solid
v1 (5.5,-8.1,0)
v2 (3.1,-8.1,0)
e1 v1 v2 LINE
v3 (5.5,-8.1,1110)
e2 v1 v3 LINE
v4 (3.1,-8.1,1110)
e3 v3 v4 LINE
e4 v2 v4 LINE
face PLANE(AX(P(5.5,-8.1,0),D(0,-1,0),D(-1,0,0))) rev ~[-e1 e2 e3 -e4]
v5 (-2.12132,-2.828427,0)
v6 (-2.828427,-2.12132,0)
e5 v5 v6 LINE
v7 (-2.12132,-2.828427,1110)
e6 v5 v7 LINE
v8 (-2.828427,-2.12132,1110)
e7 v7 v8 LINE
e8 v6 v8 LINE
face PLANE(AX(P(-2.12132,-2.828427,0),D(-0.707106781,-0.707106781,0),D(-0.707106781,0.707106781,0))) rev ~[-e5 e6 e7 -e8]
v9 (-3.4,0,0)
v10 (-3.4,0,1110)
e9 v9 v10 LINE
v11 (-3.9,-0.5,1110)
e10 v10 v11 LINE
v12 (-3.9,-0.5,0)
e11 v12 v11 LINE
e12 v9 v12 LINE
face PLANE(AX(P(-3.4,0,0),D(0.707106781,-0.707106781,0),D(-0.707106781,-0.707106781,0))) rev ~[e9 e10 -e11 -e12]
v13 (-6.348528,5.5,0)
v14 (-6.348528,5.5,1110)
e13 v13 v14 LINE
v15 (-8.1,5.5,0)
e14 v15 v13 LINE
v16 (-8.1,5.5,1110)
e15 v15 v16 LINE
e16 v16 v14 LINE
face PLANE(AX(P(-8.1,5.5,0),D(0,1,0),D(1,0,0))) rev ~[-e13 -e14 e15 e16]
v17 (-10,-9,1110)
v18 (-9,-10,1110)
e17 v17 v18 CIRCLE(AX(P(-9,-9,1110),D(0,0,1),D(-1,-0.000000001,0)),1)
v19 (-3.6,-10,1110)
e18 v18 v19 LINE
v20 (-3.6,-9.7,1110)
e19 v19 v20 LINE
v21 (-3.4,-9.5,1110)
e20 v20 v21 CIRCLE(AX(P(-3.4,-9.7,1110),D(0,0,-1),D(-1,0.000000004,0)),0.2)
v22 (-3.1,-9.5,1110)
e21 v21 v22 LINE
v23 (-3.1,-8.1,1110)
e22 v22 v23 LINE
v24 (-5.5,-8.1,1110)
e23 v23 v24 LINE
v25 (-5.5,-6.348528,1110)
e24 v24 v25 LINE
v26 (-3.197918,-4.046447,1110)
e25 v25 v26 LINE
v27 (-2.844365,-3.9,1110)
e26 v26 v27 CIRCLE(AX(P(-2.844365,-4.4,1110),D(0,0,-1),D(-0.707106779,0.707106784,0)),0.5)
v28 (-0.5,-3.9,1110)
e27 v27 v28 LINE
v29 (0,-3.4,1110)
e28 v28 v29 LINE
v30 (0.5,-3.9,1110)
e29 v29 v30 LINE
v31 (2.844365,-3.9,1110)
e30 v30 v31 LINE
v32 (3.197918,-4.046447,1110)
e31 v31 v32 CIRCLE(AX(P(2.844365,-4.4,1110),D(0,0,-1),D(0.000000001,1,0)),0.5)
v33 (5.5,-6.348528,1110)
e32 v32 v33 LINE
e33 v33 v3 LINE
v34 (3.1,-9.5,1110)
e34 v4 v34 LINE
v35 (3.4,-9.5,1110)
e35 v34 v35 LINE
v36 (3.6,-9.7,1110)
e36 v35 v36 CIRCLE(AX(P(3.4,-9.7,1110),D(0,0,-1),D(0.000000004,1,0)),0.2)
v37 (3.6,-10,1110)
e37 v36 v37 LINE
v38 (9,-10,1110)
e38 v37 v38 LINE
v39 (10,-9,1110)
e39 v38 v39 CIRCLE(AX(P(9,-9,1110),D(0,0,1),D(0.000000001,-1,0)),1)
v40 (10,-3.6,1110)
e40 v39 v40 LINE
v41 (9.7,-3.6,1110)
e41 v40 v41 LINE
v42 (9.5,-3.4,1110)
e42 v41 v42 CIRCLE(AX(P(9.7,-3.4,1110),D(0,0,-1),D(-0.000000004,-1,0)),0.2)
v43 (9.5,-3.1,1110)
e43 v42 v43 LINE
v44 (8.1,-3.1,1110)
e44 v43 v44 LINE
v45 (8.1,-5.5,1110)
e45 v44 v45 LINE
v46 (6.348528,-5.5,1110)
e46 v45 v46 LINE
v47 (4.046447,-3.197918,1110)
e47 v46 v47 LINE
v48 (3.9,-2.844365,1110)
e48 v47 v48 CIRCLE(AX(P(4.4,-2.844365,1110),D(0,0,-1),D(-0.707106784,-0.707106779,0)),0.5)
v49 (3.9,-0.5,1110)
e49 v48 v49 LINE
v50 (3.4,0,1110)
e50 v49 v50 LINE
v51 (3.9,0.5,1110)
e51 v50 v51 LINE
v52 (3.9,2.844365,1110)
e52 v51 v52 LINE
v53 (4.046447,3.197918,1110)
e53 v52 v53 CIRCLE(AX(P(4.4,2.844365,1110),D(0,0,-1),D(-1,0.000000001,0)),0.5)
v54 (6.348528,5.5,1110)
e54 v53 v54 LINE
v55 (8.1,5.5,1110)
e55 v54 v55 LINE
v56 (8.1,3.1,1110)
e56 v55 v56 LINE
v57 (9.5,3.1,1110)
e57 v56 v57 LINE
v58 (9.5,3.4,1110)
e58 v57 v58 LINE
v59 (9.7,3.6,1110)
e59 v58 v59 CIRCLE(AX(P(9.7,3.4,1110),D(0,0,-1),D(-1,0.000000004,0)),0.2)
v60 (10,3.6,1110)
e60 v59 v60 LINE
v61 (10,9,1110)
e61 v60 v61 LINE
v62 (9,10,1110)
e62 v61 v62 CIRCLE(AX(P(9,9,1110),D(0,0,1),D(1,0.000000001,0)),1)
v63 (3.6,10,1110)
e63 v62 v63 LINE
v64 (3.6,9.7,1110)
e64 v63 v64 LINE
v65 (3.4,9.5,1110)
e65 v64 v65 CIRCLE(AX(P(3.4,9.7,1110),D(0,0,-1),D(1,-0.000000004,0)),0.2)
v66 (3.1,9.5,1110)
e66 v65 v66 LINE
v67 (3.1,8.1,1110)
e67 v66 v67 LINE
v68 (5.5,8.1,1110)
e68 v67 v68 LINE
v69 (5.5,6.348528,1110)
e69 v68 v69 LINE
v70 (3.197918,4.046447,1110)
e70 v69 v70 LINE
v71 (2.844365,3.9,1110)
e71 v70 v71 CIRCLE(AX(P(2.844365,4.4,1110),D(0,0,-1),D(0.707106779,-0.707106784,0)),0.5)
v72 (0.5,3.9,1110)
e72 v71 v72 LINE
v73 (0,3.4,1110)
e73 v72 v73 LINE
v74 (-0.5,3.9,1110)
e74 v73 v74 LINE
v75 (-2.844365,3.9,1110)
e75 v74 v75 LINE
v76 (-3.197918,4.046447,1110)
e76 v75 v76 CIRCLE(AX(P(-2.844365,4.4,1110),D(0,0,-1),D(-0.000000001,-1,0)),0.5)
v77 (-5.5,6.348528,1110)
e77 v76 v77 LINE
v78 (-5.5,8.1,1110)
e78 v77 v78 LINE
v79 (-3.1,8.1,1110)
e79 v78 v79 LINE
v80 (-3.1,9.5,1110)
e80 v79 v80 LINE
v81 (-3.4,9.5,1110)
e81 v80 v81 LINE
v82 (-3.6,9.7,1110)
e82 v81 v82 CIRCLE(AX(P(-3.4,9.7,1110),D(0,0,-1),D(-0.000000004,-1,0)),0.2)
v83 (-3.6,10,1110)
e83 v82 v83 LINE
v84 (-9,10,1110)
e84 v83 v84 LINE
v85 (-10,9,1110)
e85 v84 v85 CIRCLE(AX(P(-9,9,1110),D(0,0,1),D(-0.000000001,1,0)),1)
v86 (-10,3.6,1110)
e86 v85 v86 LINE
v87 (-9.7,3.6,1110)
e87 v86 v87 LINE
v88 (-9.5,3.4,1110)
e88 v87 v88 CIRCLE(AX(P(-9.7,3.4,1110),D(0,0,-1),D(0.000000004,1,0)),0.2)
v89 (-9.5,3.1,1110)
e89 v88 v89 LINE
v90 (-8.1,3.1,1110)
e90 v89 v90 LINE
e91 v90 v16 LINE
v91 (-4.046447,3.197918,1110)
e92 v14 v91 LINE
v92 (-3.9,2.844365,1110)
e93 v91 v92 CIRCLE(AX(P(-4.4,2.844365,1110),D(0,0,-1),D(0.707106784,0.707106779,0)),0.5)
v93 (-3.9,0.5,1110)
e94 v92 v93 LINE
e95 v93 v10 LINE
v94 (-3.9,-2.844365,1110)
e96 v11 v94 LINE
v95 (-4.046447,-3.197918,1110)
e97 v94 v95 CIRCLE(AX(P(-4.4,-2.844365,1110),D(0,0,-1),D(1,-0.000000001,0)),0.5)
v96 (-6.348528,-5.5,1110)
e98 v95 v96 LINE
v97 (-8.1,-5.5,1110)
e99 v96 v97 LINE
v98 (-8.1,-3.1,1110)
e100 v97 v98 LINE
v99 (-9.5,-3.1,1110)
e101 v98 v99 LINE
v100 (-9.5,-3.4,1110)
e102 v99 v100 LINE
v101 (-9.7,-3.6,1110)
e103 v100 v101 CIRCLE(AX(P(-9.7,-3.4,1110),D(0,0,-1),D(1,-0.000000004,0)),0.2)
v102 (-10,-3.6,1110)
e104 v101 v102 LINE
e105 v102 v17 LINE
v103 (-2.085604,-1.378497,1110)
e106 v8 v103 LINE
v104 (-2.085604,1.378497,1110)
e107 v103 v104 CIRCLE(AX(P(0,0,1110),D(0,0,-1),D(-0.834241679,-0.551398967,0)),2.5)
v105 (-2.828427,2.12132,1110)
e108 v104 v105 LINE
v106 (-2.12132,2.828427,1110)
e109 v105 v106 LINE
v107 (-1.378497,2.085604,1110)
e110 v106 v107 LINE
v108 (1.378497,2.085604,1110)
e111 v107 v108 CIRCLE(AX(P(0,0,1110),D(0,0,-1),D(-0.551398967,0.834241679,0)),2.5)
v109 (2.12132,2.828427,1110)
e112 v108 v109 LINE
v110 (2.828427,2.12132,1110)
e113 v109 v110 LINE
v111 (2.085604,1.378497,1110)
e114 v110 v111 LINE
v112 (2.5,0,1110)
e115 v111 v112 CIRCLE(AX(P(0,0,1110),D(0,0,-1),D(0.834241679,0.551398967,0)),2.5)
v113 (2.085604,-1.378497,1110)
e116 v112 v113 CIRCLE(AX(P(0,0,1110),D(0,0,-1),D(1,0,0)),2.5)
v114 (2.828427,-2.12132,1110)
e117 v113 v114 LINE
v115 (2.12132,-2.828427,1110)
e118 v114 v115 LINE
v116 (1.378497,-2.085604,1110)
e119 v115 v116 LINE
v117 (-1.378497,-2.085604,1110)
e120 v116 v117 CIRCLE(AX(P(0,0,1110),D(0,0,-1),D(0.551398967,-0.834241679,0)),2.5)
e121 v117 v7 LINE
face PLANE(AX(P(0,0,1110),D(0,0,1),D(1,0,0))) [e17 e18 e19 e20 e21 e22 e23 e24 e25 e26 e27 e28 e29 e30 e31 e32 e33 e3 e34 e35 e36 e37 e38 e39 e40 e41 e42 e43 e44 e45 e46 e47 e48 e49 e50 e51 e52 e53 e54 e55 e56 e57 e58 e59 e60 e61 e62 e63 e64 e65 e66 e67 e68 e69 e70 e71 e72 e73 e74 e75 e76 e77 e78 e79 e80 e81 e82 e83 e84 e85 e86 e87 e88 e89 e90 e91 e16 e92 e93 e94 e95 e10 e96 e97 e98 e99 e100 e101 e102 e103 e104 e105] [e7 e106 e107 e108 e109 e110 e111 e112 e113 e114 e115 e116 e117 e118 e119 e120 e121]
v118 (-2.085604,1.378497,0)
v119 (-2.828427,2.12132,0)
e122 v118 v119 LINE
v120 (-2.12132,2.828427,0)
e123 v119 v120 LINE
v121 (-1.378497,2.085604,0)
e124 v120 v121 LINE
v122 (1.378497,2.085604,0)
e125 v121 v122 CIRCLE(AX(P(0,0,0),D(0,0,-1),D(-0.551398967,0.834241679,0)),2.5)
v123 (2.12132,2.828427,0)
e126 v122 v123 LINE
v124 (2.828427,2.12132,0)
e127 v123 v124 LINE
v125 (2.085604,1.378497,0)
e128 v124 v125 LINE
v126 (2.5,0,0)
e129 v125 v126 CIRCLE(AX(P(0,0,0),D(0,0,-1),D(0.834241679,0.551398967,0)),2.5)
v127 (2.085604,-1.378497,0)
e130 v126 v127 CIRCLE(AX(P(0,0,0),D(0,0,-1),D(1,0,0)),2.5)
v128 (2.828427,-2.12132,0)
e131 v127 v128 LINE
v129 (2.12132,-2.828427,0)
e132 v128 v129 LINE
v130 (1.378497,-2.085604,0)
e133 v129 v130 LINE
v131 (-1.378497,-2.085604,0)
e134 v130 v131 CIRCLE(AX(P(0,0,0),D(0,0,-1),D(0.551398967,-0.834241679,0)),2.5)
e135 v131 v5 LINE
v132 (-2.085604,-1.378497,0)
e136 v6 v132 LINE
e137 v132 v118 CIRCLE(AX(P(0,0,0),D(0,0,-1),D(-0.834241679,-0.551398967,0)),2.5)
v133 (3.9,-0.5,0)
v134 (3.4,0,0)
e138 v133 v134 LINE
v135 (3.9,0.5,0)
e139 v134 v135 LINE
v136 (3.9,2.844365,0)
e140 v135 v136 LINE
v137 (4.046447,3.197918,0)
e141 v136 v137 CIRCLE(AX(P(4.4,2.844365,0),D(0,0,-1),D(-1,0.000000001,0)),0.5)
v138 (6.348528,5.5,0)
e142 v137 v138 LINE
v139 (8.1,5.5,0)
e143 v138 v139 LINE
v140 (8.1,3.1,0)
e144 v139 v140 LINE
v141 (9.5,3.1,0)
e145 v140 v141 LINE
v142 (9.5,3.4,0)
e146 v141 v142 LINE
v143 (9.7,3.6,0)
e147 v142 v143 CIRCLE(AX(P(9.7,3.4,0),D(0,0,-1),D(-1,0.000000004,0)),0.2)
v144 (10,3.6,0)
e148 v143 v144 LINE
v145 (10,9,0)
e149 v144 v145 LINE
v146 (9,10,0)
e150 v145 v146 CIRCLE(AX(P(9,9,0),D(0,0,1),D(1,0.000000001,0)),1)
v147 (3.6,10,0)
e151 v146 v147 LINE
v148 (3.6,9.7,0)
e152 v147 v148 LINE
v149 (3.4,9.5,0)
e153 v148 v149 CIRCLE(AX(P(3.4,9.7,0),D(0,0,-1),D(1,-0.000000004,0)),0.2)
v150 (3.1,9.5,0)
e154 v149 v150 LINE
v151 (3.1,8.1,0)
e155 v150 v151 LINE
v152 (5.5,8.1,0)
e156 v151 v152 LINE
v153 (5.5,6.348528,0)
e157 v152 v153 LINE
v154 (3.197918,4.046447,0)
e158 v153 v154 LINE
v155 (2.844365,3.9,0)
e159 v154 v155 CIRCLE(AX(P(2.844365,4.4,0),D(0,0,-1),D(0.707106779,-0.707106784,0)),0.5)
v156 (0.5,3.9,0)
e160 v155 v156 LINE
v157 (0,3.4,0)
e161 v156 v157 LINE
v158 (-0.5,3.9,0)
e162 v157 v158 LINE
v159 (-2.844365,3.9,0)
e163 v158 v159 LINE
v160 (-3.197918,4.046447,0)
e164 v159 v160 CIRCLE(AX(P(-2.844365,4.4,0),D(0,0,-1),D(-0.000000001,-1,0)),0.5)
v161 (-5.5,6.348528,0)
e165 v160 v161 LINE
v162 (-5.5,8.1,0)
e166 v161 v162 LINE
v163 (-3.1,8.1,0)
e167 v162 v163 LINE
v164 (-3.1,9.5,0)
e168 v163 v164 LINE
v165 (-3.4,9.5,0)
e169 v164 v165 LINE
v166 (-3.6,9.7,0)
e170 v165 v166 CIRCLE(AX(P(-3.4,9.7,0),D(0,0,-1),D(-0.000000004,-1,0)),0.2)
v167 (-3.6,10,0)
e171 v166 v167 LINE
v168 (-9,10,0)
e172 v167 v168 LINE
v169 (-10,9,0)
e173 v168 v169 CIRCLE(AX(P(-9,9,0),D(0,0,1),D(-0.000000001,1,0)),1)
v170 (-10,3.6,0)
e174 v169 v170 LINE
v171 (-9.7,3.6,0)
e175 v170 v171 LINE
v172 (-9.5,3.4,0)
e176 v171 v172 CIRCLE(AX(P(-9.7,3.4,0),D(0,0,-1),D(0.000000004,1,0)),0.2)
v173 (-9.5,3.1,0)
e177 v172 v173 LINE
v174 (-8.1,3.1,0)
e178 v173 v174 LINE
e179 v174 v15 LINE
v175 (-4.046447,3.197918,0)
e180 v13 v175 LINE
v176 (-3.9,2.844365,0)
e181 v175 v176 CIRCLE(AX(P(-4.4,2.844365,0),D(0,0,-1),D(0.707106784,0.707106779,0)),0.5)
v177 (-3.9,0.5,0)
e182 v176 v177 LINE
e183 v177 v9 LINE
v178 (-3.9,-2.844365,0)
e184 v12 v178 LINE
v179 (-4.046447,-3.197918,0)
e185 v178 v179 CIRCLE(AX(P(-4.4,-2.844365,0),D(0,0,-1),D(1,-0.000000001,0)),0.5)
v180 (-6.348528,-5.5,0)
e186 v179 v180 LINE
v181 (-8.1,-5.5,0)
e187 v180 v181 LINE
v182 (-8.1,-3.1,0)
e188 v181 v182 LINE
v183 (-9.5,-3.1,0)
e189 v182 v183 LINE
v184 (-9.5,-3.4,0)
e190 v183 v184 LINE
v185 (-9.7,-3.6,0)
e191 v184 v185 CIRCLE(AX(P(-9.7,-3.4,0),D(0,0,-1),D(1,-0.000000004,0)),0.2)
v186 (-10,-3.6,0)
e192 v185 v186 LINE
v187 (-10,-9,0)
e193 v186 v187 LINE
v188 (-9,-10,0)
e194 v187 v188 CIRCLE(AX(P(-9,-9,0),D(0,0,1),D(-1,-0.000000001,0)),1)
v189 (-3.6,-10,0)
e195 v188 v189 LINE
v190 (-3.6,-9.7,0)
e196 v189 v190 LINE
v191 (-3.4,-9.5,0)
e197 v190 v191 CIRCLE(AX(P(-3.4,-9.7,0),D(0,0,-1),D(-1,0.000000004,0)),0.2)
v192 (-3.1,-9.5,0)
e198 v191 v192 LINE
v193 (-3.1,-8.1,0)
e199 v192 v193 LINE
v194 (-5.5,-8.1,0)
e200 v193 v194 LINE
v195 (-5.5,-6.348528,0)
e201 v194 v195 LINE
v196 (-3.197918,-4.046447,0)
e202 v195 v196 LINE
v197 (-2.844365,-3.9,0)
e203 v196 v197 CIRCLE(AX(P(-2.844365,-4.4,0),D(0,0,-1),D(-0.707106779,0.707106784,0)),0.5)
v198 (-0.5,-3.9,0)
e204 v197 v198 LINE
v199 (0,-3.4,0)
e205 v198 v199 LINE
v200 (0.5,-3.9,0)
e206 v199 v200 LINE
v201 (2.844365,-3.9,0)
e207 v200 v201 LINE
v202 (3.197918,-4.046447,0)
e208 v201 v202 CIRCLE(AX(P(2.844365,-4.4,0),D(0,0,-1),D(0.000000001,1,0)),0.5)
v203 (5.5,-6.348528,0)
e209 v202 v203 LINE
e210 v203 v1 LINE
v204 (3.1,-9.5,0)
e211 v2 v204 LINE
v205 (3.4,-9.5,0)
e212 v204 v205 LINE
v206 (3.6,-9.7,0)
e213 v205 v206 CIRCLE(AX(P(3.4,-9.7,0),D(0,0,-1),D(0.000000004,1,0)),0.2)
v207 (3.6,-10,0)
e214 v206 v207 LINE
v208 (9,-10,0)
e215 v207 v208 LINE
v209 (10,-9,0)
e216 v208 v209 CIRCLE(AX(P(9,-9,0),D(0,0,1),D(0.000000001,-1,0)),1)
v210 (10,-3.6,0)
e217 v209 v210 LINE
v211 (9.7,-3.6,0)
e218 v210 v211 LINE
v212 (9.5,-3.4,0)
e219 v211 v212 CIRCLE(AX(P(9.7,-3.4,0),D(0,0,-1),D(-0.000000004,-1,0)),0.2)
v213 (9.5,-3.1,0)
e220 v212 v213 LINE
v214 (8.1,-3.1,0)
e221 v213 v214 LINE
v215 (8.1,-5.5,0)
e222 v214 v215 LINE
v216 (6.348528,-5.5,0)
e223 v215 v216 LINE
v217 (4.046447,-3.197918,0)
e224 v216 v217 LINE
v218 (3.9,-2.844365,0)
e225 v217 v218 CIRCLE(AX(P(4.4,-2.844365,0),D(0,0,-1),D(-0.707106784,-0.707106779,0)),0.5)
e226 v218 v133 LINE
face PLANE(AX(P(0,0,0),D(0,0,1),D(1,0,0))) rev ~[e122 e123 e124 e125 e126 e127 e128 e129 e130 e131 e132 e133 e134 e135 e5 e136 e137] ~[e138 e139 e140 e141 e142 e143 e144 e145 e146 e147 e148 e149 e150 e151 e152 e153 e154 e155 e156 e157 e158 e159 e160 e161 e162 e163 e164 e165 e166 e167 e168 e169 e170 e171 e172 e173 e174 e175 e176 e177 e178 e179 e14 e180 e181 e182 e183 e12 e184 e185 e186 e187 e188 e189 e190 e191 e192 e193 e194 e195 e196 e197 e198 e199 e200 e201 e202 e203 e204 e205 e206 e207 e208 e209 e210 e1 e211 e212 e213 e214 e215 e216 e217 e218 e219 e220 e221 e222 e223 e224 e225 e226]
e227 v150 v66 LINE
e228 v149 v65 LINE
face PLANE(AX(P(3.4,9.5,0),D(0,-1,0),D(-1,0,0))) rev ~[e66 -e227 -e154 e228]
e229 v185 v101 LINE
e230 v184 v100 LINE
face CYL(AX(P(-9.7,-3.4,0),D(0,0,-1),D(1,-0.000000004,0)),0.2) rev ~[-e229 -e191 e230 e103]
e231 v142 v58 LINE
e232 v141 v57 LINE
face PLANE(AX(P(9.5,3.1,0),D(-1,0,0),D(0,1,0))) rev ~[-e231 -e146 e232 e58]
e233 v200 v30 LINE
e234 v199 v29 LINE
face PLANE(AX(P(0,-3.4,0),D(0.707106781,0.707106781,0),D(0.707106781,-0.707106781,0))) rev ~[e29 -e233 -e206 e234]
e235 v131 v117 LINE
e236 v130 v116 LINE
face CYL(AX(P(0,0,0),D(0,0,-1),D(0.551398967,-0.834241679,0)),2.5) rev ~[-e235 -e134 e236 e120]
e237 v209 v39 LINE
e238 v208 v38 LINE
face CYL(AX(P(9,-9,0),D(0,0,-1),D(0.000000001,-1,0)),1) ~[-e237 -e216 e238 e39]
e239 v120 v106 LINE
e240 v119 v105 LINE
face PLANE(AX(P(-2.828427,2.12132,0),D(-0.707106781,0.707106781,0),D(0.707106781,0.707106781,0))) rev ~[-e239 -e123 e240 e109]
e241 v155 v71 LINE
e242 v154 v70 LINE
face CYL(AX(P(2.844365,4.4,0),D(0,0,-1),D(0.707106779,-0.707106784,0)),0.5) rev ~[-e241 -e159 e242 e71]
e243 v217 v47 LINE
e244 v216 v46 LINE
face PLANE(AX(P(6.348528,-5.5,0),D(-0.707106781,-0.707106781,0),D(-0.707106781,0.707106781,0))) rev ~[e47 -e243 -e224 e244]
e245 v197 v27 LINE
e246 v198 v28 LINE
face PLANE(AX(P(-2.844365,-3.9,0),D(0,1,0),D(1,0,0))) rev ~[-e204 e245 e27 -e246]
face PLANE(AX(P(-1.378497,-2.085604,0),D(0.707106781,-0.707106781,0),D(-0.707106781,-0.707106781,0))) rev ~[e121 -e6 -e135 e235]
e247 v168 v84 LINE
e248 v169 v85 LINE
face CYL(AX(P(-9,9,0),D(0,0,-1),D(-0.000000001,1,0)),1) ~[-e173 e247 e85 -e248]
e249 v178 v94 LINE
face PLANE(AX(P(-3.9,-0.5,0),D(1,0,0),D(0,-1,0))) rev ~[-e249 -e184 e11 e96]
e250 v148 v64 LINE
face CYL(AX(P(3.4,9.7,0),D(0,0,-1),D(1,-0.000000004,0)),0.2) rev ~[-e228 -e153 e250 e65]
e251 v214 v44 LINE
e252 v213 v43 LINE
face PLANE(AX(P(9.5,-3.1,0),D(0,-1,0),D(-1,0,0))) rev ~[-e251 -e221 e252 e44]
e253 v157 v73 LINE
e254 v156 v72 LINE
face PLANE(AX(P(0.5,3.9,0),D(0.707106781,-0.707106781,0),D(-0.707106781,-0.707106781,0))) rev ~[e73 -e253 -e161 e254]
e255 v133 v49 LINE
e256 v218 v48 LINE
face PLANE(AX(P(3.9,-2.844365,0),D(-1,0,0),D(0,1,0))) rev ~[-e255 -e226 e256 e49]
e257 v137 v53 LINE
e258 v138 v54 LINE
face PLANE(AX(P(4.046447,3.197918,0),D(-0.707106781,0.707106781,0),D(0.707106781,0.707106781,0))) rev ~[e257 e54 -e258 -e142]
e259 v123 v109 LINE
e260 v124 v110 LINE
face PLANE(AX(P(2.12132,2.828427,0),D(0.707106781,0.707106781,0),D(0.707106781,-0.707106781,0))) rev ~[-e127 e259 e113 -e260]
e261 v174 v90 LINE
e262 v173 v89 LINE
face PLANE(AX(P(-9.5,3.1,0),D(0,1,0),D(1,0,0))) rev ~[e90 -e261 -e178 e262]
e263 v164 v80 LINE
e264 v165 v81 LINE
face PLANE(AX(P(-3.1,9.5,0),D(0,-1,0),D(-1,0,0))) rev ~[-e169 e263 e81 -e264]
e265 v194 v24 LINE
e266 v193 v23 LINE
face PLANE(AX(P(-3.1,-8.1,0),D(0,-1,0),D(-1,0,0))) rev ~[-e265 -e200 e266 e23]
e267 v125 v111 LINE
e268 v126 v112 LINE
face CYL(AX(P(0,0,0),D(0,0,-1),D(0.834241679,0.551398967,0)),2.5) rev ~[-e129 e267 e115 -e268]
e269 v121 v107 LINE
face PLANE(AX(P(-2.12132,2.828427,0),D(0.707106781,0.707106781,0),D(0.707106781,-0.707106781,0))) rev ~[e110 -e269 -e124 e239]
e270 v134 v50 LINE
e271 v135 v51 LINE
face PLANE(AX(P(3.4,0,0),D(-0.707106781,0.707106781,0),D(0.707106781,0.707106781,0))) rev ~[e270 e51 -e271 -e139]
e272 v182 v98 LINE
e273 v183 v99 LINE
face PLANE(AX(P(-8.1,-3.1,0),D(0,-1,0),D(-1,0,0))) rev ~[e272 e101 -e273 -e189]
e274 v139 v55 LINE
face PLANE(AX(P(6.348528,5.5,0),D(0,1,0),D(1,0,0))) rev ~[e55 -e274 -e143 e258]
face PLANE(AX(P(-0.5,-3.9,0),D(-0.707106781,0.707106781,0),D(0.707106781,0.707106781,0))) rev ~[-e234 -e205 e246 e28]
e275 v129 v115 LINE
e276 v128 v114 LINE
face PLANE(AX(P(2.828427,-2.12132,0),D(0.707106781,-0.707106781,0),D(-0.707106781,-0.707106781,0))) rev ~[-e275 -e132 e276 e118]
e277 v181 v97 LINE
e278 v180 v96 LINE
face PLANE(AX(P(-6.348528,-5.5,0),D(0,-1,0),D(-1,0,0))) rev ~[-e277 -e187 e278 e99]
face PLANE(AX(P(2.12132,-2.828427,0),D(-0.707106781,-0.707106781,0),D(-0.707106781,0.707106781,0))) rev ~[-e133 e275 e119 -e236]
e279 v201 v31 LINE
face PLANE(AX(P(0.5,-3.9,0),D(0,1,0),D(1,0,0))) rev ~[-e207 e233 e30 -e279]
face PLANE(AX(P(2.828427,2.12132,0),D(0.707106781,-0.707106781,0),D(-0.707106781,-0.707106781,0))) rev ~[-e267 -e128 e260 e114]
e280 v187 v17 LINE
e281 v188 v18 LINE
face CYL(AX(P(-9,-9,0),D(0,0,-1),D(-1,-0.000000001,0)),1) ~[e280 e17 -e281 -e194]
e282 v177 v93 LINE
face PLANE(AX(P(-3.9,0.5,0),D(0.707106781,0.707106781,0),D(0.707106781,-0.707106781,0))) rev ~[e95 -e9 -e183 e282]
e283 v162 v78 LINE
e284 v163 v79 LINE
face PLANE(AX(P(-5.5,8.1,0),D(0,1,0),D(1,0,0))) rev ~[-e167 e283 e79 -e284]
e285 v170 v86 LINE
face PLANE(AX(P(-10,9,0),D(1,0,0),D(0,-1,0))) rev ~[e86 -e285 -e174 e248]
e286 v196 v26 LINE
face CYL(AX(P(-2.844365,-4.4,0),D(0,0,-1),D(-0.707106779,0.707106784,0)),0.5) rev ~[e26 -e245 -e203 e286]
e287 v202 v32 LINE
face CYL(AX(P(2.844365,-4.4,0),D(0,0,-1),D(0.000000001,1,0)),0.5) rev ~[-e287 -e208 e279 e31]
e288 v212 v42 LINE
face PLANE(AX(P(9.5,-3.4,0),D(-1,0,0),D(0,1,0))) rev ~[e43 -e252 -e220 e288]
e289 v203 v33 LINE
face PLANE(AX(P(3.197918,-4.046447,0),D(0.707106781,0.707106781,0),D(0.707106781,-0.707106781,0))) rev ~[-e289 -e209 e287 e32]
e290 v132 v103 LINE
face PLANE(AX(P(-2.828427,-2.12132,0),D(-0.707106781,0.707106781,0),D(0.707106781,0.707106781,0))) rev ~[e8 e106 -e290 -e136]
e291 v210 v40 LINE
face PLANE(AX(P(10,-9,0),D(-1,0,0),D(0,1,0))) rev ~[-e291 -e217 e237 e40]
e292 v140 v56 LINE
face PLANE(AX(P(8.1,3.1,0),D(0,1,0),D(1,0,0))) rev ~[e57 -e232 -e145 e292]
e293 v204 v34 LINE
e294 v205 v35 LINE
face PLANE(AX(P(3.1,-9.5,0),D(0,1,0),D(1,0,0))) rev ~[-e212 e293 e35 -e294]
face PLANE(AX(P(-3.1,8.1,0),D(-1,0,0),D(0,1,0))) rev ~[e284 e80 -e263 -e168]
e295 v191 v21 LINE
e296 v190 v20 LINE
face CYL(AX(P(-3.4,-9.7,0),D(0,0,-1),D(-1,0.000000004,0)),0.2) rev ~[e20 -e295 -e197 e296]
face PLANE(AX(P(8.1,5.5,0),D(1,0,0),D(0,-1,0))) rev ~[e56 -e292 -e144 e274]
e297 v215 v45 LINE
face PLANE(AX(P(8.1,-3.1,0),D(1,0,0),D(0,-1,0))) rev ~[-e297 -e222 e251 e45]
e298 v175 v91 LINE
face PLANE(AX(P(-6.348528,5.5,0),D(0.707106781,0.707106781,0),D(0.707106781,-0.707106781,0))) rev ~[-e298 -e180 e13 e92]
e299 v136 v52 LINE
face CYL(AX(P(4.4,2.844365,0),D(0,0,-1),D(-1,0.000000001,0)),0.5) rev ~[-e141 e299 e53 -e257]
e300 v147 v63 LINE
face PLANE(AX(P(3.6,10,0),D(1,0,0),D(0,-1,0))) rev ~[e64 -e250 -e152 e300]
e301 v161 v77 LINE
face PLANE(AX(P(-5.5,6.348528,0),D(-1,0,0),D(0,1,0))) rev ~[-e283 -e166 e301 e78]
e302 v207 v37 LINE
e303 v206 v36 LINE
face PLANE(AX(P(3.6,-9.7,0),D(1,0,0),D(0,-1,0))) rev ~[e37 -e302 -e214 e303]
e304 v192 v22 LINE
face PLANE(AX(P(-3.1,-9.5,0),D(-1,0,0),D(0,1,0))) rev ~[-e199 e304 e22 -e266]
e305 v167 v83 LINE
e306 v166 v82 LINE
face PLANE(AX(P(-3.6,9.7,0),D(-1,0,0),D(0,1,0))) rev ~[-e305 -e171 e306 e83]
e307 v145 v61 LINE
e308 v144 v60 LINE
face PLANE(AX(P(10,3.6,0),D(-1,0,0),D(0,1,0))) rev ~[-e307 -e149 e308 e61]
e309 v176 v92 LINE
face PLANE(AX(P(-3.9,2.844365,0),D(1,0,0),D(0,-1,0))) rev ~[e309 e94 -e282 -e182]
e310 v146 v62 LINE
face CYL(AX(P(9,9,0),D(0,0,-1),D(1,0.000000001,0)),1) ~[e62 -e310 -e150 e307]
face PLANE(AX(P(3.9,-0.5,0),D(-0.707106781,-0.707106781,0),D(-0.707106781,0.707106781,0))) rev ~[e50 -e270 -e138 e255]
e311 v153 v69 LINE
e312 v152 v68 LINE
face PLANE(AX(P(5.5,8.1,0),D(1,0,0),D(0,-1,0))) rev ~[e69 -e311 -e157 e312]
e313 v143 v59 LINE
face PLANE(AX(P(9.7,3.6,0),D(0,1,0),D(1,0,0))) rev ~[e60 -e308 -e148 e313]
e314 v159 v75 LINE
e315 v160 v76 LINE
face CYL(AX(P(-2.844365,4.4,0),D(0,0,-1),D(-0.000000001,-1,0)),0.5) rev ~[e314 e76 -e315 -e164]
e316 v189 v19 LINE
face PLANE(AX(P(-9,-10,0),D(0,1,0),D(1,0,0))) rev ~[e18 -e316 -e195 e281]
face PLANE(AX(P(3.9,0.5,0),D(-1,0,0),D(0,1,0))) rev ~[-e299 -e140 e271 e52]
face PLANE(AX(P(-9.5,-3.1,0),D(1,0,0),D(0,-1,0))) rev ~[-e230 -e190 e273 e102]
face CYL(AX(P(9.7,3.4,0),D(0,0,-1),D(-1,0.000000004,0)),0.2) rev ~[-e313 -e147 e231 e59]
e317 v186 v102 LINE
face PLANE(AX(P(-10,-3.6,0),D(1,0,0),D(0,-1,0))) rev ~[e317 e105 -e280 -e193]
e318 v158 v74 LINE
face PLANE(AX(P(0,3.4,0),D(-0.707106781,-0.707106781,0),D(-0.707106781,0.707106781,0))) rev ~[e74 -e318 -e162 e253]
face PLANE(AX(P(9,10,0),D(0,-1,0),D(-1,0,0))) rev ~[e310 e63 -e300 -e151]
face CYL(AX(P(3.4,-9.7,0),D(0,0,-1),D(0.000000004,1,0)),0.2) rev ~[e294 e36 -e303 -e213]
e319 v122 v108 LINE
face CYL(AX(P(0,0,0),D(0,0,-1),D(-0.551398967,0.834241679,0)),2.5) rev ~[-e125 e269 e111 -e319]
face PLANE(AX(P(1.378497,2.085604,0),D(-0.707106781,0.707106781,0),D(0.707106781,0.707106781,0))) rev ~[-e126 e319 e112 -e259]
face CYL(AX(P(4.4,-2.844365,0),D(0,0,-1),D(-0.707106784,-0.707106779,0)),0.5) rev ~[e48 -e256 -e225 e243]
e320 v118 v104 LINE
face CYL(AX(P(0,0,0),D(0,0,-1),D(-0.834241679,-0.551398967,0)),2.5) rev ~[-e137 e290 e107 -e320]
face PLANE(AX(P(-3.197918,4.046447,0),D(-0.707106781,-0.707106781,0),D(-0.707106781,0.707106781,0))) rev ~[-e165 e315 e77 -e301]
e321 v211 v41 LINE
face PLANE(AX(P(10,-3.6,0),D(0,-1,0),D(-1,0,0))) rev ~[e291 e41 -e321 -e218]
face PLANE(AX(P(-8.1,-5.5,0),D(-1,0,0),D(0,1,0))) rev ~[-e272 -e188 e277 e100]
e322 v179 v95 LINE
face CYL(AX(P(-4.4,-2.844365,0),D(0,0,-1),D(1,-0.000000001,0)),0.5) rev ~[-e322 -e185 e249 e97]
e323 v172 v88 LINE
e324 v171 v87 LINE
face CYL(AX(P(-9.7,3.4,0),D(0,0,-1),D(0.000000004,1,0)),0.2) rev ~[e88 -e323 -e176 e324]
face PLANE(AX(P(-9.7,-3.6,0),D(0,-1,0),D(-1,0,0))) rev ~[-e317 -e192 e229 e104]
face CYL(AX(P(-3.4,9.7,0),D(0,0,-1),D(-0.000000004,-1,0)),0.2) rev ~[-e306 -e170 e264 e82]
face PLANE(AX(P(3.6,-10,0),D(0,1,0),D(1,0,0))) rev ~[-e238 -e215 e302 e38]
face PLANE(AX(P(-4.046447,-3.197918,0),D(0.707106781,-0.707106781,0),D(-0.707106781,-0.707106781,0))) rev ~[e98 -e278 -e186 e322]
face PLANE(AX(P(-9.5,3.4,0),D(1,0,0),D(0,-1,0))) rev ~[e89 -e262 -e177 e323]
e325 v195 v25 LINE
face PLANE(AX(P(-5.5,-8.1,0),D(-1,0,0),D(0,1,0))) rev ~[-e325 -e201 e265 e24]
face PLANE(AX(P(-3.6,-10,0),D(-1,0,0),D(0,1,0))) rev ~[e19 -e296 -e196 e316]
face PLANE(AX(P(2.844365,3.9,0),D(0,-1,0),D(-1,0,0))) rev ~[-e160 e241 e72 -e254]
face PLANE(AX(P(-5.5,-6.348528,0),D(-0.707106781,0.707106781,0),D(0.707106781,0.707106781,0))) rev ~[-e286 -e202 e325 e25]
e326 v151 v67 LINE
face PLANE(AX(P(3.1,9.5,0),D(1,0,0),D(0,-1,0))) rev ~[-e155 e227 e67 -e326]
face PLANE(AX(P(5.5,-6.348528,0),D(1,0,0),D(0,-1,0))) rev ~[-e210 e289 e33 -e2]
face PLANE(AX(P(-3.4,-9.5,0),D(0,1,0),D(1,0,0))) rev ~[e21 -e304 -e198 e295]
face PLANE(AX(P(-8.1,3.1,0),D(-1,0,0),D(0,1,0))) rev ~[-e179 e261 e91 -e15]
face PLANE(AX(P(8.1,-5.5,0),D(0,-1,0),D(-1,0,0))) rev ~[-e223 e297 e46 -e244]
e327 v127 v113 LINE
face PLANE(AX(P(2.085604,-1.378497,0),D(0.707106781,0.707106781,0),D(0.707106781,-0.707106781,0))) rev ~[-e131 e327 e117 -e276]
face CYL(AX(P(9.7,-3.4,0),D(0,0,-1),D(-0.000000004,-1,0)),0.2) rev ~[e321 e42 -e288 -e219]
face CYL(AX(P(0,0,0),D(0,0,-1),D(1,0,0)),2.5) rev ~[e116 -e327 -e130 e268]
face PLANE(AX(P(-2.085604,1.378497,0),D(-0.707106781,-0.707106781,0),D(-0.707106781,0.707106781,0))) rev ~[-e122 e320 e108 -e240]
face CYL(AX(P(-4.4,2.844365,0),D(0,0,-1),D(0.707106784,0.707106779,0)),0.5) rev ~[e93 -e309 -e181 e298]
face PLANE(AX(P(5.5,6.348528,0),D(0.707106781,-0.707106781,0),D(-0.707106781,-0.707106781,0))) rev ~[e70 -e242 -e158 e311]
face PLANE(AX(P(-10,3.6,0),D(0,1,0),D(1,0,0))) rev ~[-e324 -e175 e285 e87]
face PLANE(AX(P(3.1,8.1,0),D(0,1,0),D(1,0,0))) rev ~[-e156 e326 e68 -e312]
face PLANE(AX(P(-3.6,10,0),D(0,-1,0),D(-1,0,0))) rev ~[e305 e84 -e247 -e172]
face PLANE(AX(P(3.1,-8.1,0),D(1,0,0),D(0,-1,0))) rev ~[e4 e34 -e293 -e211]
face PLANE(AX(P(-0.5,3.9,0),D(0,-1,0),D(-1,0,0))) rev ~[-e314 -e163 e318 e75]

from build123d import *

# Parameters (mm, degrees)
EXTRUDE1_DEPTH = 1110


with BuildPart() as part:
    # Sketch1 → Extrude1 (new body)
    with BuildSketch(Plane.XY):
        with BuildLine():
            Line((0, 3.4), (-0.5, 3.9))
            Line((-0.5, 3.9), (-2.844365081, 3.9))
            ThreePointArc((-2.844365081, 3.9), (-3.035706798, 3.938060234), (-3.197918472, 4.046446609))
            Line((-3.197918472, 4.046446609), (-5.5, 6.348528137))
            Line((-5.5, 6.348528137), (-5.5, 8.1))
            Line((-5.5, 8.1), (-3.1, 8.1))
            Line((-3.1, 8.1), (-3.1, 9.5))
            Line((-3.1, 9.5), (-3.4, 9.5))
            ThreePointArc((-3.4, 9.5), (-3.541421356, 9.558578644), (-3.6, 9.7))
            Line((-3.6, 9.7), (-3.6, 10))
            Line((-3.6, 10), (-9, 10))
            ThreePointArc((-9, 10), (-9.707106781, 9.707106781), (-10, 9))
            Line((-10, 9), (-10, 3.6))
            Line((-10, 3.6), (-9.7, 3.6))
            ThreePointArc((-9.7, 3.6), (-9.558578644, 3.541421356), (-9.5, 3.4))
            Line((-9.5, 3.4), (-9.5, 3.1))
            Line((-9.5, 3.1), (-8.1, 3.1))
            Line((-8.1, 3.1), (-8.1, 5.5))
            Line((-8.1, 5.5), (-6.348528137, 5.5))
            Line((-6.348528137, 5.5), (-4.046446609, 3.197918472))
            ThreePointArc((-4.046446609, 3.197918472), (-3.938060234, 3.035706798), (-3.9, 2.844365081))
            Line((-3.9, 2.844365081), (-3.9, 0.5))
            Line((-3.9, 0.5), (-3.4, 0))
            Line((-3.4, 0), (-3.9, -0.5))
            Line((-3.9, -0.5), (-3.9, -2.844365081))
            ThreePointArc((-3.9, -2.844365081), (-3.938060234, -3.035706798), (-4.046446609, -3.197918472))
            Line((-4.046446609, -3.197918472), (-6.348528137, -5.5))
            Line((-6.348528137, -5.5), (-8.1, -5.5))
            Line((-8.1, -5.5), (-8.1, -3.1))
            Line((-8.1, -3.1), (-9.5, -3.1))
            Line((-9.5, -3.1), (-9.5, -3.4))
            ThreePointArc((-9.5, -3.4), (-9.558578644, -3.541421356), (-9.7, -3.6))
            Line((-9.7, -3.6), (-10, -3.6))
            Line((-10, -3.6), (-10, -9))
            ThreePointArc((-10, -9), (-9.707106781, -9.707106781), (-9, -10))
            Line((-9, -10), (-3.6, -10))
            Line((-3.6, -10), (-3.6, -9.7))
            ThreePointArc((-3.6, -9.7), (-3.541421356, -9.558578644), (-3.4, -9.5))
            Line((-3.4, -9.5), (-3.1, -9.5))
            Line((-3.1, -9.5), (-3.1, -8.1))
            Line((-3.1, -8.1), (-5.5, -8.1))
            Line((-5.5, -8.1), (-5.5, -6.348528137))
            Line((-5.5, -6.348528137), (-3.197918472, -4.046446609))
            ThreePointArc((-3.197918472, -4.046446609), (-3.035706798, -3.938060234), (-2.844365081, -3.9))
            Line((-2.844365081, -3.9), (-0.5, -3.9))
            Line((-0.5, -3.9), (0, -3.4))
            Line((0, -3.4), (0.5, -3.9))
            Line((0.5, -3.9), (2.844365081, -3.9))
            ThreePointArc((2.844365081, -3.9), (3.035706798, -3.938060234), (3.197918472, -4.046446609))
            Line((3.197918472, -4.046446609), (5.5, -6.348528137))
            Line((5.5, -6.348528137), (5.5, -8.1))
            Line((5.5, -8.1), (3.1, -8.1))
            Line((3.1, -8.1), (3.1, -9.5))
            Line((3.1, -9.5), (3.4, -9.5))
            ThreePointArc((3.4, -9.5), (3.541421356, -9.558578644), (3.6, -9.7))
            Line((3.6, -9.7), (3.6, -10))
            Line((3.6, -10), (9, -10))
            ThreePointArc((9, -10), (9.707106781, -9.707106781), (10, -9))
            Line((10, -9), (10, -3.6))
            Line((10, -3.6), (9.7, -3.6))
            ThreePointArc((9.7, -3.6), (9.558578644, -3.541421356), (9.5, -3.4))
            Line((9.5, -3.4), (9.5, -3.1))
            Line((9.5, -3.1), (8.1, -3.1))
            Line((8.1, -3.1), (8.1, -5.5))
            Line((8.1, -5.5), (6.348528137, -5.5))
            Line((6.348528137, -5.5), (4.046446609, -3.197918472))
            ThreePointArc((4.046446609, -3.197918472), (3.938060234, -3.035706798), (3.9, -2.844365081))
            Line((3.9, -2.844365081), (3.9, -0.5))
            Line((3.9, -0.5), (3.4, 0))
            Line((3.4, 0), (3.9, 0.5))
            Line((3.9, 0.5), (3.9, 2.844365081))
            ThreePointArc((3.9, 2.844365081), (3.938060234, 3.035706798), (4.046446609, 3.197918472))
            Line((4.046446609, 3.197918472), (6.348528137, 5.5))
            Line((6.348528137, 5.5), (8.1, 5.5))
            Line((8.1, 5.5), (8.1, 3.1))
            Line((8.1, 3.1), (9.5, 3.1))
            Line((9.5, 3.1), (9.5, 3.4))
            ThreePointArc((9.5, 3.4), (9.558578644, 3.541421356), (9.7, 3.6))
            Line((9.7, 3.6), (10, 3.6))
            Line((10, 3.6), (10, 9))
            ThreePointArc((10, 9), (9.707106781, 9.707106781), (9, 10))
            Line((9, 10), (3.6, 10))
            Line((3.6, 10), (3.6, 9.7))
            ThreePointArc((3.6, 9.7), (3.541421356, 9.558578644), (3.4, 9.5))
            Line((3.4, 9.5), (3.1, 9.5))
            Line((3.1, 9.5), (3.1, 8.1))
            Line((3.1, 8.1), (5.5, 8.1))
            Line((5.5, 8.1), (5.5, 6.348528137))
            Line((5.5, 6.348528137), (3.197918472, 4.046446609))
            ThreePointArc((3.197918472, 4.046446609), (3.035706798, 3.938060234), (2.844365081, 3.9))
            Line((2.844365081, 3.9), (0.5, 3.9))
            Line((0.5, 3.9), (0, 3.4))
        make_face()
        with BuildLine():
            ThreePointArc((2.5, 0), (2.394160656, -0.719718523), (2.085604198, -1.378497417))
            Line((2.085604198, -1.378497417), (2.828427125, -2.121320344))
            Line((2.828427125, -2.121320344), (2.121320344, -2.828427125))
            Line((2.121320344, -2.828427125), (1.378497417, -2.085604198))
            ThreePointArc((1.378497417, -2.085604198), (0, -2.5), (-1.378497417, -2.085604198))
            Line((-1.378497417, -2.085604198), (-2.121320344, -2.828427125))
            Line((-2.121320344, -2.828427125), (-2.828427125, -2.121320344))
            Line((-2.828427125, -2.121320344), (-2.085604198, -1.378497417))
            ThreePointArc((-2.085604198, -1.378497417), (-2.5, 0), (-2.085604198, 1.378497417))
            Line((-2.085604198, 1.378497417), (-2.828427125, 2.121320344))
            Line((-2.828427125, 2.121320344), (-2.121320344, 2.828427125))
            Line((-2.121320344, 2.828427125), (-1.378497417, 2.085604198))
            ThreePointArc((-1.378497417, 2.085604198), (0, 2.5), (1.378497417, 2.085604198))
            Line((1.378497417, 2.085604198), (2.121320344, 2.828427125))
            Line((2.121320344, 2.828427125), (2.828427125, 2.121320344))
            Line((2.828427125, 2.121320344), (2.085604198, 1.378497417))
            ThreePointArc((2.085604198, 1.378497417), (2.394160656, 0.719718523), (2.5, 0))
        make_face(mode=Mode.SUBTRACT)
    extrude(amount=EXTRUDE1_DEPTH)


solid = part.part
